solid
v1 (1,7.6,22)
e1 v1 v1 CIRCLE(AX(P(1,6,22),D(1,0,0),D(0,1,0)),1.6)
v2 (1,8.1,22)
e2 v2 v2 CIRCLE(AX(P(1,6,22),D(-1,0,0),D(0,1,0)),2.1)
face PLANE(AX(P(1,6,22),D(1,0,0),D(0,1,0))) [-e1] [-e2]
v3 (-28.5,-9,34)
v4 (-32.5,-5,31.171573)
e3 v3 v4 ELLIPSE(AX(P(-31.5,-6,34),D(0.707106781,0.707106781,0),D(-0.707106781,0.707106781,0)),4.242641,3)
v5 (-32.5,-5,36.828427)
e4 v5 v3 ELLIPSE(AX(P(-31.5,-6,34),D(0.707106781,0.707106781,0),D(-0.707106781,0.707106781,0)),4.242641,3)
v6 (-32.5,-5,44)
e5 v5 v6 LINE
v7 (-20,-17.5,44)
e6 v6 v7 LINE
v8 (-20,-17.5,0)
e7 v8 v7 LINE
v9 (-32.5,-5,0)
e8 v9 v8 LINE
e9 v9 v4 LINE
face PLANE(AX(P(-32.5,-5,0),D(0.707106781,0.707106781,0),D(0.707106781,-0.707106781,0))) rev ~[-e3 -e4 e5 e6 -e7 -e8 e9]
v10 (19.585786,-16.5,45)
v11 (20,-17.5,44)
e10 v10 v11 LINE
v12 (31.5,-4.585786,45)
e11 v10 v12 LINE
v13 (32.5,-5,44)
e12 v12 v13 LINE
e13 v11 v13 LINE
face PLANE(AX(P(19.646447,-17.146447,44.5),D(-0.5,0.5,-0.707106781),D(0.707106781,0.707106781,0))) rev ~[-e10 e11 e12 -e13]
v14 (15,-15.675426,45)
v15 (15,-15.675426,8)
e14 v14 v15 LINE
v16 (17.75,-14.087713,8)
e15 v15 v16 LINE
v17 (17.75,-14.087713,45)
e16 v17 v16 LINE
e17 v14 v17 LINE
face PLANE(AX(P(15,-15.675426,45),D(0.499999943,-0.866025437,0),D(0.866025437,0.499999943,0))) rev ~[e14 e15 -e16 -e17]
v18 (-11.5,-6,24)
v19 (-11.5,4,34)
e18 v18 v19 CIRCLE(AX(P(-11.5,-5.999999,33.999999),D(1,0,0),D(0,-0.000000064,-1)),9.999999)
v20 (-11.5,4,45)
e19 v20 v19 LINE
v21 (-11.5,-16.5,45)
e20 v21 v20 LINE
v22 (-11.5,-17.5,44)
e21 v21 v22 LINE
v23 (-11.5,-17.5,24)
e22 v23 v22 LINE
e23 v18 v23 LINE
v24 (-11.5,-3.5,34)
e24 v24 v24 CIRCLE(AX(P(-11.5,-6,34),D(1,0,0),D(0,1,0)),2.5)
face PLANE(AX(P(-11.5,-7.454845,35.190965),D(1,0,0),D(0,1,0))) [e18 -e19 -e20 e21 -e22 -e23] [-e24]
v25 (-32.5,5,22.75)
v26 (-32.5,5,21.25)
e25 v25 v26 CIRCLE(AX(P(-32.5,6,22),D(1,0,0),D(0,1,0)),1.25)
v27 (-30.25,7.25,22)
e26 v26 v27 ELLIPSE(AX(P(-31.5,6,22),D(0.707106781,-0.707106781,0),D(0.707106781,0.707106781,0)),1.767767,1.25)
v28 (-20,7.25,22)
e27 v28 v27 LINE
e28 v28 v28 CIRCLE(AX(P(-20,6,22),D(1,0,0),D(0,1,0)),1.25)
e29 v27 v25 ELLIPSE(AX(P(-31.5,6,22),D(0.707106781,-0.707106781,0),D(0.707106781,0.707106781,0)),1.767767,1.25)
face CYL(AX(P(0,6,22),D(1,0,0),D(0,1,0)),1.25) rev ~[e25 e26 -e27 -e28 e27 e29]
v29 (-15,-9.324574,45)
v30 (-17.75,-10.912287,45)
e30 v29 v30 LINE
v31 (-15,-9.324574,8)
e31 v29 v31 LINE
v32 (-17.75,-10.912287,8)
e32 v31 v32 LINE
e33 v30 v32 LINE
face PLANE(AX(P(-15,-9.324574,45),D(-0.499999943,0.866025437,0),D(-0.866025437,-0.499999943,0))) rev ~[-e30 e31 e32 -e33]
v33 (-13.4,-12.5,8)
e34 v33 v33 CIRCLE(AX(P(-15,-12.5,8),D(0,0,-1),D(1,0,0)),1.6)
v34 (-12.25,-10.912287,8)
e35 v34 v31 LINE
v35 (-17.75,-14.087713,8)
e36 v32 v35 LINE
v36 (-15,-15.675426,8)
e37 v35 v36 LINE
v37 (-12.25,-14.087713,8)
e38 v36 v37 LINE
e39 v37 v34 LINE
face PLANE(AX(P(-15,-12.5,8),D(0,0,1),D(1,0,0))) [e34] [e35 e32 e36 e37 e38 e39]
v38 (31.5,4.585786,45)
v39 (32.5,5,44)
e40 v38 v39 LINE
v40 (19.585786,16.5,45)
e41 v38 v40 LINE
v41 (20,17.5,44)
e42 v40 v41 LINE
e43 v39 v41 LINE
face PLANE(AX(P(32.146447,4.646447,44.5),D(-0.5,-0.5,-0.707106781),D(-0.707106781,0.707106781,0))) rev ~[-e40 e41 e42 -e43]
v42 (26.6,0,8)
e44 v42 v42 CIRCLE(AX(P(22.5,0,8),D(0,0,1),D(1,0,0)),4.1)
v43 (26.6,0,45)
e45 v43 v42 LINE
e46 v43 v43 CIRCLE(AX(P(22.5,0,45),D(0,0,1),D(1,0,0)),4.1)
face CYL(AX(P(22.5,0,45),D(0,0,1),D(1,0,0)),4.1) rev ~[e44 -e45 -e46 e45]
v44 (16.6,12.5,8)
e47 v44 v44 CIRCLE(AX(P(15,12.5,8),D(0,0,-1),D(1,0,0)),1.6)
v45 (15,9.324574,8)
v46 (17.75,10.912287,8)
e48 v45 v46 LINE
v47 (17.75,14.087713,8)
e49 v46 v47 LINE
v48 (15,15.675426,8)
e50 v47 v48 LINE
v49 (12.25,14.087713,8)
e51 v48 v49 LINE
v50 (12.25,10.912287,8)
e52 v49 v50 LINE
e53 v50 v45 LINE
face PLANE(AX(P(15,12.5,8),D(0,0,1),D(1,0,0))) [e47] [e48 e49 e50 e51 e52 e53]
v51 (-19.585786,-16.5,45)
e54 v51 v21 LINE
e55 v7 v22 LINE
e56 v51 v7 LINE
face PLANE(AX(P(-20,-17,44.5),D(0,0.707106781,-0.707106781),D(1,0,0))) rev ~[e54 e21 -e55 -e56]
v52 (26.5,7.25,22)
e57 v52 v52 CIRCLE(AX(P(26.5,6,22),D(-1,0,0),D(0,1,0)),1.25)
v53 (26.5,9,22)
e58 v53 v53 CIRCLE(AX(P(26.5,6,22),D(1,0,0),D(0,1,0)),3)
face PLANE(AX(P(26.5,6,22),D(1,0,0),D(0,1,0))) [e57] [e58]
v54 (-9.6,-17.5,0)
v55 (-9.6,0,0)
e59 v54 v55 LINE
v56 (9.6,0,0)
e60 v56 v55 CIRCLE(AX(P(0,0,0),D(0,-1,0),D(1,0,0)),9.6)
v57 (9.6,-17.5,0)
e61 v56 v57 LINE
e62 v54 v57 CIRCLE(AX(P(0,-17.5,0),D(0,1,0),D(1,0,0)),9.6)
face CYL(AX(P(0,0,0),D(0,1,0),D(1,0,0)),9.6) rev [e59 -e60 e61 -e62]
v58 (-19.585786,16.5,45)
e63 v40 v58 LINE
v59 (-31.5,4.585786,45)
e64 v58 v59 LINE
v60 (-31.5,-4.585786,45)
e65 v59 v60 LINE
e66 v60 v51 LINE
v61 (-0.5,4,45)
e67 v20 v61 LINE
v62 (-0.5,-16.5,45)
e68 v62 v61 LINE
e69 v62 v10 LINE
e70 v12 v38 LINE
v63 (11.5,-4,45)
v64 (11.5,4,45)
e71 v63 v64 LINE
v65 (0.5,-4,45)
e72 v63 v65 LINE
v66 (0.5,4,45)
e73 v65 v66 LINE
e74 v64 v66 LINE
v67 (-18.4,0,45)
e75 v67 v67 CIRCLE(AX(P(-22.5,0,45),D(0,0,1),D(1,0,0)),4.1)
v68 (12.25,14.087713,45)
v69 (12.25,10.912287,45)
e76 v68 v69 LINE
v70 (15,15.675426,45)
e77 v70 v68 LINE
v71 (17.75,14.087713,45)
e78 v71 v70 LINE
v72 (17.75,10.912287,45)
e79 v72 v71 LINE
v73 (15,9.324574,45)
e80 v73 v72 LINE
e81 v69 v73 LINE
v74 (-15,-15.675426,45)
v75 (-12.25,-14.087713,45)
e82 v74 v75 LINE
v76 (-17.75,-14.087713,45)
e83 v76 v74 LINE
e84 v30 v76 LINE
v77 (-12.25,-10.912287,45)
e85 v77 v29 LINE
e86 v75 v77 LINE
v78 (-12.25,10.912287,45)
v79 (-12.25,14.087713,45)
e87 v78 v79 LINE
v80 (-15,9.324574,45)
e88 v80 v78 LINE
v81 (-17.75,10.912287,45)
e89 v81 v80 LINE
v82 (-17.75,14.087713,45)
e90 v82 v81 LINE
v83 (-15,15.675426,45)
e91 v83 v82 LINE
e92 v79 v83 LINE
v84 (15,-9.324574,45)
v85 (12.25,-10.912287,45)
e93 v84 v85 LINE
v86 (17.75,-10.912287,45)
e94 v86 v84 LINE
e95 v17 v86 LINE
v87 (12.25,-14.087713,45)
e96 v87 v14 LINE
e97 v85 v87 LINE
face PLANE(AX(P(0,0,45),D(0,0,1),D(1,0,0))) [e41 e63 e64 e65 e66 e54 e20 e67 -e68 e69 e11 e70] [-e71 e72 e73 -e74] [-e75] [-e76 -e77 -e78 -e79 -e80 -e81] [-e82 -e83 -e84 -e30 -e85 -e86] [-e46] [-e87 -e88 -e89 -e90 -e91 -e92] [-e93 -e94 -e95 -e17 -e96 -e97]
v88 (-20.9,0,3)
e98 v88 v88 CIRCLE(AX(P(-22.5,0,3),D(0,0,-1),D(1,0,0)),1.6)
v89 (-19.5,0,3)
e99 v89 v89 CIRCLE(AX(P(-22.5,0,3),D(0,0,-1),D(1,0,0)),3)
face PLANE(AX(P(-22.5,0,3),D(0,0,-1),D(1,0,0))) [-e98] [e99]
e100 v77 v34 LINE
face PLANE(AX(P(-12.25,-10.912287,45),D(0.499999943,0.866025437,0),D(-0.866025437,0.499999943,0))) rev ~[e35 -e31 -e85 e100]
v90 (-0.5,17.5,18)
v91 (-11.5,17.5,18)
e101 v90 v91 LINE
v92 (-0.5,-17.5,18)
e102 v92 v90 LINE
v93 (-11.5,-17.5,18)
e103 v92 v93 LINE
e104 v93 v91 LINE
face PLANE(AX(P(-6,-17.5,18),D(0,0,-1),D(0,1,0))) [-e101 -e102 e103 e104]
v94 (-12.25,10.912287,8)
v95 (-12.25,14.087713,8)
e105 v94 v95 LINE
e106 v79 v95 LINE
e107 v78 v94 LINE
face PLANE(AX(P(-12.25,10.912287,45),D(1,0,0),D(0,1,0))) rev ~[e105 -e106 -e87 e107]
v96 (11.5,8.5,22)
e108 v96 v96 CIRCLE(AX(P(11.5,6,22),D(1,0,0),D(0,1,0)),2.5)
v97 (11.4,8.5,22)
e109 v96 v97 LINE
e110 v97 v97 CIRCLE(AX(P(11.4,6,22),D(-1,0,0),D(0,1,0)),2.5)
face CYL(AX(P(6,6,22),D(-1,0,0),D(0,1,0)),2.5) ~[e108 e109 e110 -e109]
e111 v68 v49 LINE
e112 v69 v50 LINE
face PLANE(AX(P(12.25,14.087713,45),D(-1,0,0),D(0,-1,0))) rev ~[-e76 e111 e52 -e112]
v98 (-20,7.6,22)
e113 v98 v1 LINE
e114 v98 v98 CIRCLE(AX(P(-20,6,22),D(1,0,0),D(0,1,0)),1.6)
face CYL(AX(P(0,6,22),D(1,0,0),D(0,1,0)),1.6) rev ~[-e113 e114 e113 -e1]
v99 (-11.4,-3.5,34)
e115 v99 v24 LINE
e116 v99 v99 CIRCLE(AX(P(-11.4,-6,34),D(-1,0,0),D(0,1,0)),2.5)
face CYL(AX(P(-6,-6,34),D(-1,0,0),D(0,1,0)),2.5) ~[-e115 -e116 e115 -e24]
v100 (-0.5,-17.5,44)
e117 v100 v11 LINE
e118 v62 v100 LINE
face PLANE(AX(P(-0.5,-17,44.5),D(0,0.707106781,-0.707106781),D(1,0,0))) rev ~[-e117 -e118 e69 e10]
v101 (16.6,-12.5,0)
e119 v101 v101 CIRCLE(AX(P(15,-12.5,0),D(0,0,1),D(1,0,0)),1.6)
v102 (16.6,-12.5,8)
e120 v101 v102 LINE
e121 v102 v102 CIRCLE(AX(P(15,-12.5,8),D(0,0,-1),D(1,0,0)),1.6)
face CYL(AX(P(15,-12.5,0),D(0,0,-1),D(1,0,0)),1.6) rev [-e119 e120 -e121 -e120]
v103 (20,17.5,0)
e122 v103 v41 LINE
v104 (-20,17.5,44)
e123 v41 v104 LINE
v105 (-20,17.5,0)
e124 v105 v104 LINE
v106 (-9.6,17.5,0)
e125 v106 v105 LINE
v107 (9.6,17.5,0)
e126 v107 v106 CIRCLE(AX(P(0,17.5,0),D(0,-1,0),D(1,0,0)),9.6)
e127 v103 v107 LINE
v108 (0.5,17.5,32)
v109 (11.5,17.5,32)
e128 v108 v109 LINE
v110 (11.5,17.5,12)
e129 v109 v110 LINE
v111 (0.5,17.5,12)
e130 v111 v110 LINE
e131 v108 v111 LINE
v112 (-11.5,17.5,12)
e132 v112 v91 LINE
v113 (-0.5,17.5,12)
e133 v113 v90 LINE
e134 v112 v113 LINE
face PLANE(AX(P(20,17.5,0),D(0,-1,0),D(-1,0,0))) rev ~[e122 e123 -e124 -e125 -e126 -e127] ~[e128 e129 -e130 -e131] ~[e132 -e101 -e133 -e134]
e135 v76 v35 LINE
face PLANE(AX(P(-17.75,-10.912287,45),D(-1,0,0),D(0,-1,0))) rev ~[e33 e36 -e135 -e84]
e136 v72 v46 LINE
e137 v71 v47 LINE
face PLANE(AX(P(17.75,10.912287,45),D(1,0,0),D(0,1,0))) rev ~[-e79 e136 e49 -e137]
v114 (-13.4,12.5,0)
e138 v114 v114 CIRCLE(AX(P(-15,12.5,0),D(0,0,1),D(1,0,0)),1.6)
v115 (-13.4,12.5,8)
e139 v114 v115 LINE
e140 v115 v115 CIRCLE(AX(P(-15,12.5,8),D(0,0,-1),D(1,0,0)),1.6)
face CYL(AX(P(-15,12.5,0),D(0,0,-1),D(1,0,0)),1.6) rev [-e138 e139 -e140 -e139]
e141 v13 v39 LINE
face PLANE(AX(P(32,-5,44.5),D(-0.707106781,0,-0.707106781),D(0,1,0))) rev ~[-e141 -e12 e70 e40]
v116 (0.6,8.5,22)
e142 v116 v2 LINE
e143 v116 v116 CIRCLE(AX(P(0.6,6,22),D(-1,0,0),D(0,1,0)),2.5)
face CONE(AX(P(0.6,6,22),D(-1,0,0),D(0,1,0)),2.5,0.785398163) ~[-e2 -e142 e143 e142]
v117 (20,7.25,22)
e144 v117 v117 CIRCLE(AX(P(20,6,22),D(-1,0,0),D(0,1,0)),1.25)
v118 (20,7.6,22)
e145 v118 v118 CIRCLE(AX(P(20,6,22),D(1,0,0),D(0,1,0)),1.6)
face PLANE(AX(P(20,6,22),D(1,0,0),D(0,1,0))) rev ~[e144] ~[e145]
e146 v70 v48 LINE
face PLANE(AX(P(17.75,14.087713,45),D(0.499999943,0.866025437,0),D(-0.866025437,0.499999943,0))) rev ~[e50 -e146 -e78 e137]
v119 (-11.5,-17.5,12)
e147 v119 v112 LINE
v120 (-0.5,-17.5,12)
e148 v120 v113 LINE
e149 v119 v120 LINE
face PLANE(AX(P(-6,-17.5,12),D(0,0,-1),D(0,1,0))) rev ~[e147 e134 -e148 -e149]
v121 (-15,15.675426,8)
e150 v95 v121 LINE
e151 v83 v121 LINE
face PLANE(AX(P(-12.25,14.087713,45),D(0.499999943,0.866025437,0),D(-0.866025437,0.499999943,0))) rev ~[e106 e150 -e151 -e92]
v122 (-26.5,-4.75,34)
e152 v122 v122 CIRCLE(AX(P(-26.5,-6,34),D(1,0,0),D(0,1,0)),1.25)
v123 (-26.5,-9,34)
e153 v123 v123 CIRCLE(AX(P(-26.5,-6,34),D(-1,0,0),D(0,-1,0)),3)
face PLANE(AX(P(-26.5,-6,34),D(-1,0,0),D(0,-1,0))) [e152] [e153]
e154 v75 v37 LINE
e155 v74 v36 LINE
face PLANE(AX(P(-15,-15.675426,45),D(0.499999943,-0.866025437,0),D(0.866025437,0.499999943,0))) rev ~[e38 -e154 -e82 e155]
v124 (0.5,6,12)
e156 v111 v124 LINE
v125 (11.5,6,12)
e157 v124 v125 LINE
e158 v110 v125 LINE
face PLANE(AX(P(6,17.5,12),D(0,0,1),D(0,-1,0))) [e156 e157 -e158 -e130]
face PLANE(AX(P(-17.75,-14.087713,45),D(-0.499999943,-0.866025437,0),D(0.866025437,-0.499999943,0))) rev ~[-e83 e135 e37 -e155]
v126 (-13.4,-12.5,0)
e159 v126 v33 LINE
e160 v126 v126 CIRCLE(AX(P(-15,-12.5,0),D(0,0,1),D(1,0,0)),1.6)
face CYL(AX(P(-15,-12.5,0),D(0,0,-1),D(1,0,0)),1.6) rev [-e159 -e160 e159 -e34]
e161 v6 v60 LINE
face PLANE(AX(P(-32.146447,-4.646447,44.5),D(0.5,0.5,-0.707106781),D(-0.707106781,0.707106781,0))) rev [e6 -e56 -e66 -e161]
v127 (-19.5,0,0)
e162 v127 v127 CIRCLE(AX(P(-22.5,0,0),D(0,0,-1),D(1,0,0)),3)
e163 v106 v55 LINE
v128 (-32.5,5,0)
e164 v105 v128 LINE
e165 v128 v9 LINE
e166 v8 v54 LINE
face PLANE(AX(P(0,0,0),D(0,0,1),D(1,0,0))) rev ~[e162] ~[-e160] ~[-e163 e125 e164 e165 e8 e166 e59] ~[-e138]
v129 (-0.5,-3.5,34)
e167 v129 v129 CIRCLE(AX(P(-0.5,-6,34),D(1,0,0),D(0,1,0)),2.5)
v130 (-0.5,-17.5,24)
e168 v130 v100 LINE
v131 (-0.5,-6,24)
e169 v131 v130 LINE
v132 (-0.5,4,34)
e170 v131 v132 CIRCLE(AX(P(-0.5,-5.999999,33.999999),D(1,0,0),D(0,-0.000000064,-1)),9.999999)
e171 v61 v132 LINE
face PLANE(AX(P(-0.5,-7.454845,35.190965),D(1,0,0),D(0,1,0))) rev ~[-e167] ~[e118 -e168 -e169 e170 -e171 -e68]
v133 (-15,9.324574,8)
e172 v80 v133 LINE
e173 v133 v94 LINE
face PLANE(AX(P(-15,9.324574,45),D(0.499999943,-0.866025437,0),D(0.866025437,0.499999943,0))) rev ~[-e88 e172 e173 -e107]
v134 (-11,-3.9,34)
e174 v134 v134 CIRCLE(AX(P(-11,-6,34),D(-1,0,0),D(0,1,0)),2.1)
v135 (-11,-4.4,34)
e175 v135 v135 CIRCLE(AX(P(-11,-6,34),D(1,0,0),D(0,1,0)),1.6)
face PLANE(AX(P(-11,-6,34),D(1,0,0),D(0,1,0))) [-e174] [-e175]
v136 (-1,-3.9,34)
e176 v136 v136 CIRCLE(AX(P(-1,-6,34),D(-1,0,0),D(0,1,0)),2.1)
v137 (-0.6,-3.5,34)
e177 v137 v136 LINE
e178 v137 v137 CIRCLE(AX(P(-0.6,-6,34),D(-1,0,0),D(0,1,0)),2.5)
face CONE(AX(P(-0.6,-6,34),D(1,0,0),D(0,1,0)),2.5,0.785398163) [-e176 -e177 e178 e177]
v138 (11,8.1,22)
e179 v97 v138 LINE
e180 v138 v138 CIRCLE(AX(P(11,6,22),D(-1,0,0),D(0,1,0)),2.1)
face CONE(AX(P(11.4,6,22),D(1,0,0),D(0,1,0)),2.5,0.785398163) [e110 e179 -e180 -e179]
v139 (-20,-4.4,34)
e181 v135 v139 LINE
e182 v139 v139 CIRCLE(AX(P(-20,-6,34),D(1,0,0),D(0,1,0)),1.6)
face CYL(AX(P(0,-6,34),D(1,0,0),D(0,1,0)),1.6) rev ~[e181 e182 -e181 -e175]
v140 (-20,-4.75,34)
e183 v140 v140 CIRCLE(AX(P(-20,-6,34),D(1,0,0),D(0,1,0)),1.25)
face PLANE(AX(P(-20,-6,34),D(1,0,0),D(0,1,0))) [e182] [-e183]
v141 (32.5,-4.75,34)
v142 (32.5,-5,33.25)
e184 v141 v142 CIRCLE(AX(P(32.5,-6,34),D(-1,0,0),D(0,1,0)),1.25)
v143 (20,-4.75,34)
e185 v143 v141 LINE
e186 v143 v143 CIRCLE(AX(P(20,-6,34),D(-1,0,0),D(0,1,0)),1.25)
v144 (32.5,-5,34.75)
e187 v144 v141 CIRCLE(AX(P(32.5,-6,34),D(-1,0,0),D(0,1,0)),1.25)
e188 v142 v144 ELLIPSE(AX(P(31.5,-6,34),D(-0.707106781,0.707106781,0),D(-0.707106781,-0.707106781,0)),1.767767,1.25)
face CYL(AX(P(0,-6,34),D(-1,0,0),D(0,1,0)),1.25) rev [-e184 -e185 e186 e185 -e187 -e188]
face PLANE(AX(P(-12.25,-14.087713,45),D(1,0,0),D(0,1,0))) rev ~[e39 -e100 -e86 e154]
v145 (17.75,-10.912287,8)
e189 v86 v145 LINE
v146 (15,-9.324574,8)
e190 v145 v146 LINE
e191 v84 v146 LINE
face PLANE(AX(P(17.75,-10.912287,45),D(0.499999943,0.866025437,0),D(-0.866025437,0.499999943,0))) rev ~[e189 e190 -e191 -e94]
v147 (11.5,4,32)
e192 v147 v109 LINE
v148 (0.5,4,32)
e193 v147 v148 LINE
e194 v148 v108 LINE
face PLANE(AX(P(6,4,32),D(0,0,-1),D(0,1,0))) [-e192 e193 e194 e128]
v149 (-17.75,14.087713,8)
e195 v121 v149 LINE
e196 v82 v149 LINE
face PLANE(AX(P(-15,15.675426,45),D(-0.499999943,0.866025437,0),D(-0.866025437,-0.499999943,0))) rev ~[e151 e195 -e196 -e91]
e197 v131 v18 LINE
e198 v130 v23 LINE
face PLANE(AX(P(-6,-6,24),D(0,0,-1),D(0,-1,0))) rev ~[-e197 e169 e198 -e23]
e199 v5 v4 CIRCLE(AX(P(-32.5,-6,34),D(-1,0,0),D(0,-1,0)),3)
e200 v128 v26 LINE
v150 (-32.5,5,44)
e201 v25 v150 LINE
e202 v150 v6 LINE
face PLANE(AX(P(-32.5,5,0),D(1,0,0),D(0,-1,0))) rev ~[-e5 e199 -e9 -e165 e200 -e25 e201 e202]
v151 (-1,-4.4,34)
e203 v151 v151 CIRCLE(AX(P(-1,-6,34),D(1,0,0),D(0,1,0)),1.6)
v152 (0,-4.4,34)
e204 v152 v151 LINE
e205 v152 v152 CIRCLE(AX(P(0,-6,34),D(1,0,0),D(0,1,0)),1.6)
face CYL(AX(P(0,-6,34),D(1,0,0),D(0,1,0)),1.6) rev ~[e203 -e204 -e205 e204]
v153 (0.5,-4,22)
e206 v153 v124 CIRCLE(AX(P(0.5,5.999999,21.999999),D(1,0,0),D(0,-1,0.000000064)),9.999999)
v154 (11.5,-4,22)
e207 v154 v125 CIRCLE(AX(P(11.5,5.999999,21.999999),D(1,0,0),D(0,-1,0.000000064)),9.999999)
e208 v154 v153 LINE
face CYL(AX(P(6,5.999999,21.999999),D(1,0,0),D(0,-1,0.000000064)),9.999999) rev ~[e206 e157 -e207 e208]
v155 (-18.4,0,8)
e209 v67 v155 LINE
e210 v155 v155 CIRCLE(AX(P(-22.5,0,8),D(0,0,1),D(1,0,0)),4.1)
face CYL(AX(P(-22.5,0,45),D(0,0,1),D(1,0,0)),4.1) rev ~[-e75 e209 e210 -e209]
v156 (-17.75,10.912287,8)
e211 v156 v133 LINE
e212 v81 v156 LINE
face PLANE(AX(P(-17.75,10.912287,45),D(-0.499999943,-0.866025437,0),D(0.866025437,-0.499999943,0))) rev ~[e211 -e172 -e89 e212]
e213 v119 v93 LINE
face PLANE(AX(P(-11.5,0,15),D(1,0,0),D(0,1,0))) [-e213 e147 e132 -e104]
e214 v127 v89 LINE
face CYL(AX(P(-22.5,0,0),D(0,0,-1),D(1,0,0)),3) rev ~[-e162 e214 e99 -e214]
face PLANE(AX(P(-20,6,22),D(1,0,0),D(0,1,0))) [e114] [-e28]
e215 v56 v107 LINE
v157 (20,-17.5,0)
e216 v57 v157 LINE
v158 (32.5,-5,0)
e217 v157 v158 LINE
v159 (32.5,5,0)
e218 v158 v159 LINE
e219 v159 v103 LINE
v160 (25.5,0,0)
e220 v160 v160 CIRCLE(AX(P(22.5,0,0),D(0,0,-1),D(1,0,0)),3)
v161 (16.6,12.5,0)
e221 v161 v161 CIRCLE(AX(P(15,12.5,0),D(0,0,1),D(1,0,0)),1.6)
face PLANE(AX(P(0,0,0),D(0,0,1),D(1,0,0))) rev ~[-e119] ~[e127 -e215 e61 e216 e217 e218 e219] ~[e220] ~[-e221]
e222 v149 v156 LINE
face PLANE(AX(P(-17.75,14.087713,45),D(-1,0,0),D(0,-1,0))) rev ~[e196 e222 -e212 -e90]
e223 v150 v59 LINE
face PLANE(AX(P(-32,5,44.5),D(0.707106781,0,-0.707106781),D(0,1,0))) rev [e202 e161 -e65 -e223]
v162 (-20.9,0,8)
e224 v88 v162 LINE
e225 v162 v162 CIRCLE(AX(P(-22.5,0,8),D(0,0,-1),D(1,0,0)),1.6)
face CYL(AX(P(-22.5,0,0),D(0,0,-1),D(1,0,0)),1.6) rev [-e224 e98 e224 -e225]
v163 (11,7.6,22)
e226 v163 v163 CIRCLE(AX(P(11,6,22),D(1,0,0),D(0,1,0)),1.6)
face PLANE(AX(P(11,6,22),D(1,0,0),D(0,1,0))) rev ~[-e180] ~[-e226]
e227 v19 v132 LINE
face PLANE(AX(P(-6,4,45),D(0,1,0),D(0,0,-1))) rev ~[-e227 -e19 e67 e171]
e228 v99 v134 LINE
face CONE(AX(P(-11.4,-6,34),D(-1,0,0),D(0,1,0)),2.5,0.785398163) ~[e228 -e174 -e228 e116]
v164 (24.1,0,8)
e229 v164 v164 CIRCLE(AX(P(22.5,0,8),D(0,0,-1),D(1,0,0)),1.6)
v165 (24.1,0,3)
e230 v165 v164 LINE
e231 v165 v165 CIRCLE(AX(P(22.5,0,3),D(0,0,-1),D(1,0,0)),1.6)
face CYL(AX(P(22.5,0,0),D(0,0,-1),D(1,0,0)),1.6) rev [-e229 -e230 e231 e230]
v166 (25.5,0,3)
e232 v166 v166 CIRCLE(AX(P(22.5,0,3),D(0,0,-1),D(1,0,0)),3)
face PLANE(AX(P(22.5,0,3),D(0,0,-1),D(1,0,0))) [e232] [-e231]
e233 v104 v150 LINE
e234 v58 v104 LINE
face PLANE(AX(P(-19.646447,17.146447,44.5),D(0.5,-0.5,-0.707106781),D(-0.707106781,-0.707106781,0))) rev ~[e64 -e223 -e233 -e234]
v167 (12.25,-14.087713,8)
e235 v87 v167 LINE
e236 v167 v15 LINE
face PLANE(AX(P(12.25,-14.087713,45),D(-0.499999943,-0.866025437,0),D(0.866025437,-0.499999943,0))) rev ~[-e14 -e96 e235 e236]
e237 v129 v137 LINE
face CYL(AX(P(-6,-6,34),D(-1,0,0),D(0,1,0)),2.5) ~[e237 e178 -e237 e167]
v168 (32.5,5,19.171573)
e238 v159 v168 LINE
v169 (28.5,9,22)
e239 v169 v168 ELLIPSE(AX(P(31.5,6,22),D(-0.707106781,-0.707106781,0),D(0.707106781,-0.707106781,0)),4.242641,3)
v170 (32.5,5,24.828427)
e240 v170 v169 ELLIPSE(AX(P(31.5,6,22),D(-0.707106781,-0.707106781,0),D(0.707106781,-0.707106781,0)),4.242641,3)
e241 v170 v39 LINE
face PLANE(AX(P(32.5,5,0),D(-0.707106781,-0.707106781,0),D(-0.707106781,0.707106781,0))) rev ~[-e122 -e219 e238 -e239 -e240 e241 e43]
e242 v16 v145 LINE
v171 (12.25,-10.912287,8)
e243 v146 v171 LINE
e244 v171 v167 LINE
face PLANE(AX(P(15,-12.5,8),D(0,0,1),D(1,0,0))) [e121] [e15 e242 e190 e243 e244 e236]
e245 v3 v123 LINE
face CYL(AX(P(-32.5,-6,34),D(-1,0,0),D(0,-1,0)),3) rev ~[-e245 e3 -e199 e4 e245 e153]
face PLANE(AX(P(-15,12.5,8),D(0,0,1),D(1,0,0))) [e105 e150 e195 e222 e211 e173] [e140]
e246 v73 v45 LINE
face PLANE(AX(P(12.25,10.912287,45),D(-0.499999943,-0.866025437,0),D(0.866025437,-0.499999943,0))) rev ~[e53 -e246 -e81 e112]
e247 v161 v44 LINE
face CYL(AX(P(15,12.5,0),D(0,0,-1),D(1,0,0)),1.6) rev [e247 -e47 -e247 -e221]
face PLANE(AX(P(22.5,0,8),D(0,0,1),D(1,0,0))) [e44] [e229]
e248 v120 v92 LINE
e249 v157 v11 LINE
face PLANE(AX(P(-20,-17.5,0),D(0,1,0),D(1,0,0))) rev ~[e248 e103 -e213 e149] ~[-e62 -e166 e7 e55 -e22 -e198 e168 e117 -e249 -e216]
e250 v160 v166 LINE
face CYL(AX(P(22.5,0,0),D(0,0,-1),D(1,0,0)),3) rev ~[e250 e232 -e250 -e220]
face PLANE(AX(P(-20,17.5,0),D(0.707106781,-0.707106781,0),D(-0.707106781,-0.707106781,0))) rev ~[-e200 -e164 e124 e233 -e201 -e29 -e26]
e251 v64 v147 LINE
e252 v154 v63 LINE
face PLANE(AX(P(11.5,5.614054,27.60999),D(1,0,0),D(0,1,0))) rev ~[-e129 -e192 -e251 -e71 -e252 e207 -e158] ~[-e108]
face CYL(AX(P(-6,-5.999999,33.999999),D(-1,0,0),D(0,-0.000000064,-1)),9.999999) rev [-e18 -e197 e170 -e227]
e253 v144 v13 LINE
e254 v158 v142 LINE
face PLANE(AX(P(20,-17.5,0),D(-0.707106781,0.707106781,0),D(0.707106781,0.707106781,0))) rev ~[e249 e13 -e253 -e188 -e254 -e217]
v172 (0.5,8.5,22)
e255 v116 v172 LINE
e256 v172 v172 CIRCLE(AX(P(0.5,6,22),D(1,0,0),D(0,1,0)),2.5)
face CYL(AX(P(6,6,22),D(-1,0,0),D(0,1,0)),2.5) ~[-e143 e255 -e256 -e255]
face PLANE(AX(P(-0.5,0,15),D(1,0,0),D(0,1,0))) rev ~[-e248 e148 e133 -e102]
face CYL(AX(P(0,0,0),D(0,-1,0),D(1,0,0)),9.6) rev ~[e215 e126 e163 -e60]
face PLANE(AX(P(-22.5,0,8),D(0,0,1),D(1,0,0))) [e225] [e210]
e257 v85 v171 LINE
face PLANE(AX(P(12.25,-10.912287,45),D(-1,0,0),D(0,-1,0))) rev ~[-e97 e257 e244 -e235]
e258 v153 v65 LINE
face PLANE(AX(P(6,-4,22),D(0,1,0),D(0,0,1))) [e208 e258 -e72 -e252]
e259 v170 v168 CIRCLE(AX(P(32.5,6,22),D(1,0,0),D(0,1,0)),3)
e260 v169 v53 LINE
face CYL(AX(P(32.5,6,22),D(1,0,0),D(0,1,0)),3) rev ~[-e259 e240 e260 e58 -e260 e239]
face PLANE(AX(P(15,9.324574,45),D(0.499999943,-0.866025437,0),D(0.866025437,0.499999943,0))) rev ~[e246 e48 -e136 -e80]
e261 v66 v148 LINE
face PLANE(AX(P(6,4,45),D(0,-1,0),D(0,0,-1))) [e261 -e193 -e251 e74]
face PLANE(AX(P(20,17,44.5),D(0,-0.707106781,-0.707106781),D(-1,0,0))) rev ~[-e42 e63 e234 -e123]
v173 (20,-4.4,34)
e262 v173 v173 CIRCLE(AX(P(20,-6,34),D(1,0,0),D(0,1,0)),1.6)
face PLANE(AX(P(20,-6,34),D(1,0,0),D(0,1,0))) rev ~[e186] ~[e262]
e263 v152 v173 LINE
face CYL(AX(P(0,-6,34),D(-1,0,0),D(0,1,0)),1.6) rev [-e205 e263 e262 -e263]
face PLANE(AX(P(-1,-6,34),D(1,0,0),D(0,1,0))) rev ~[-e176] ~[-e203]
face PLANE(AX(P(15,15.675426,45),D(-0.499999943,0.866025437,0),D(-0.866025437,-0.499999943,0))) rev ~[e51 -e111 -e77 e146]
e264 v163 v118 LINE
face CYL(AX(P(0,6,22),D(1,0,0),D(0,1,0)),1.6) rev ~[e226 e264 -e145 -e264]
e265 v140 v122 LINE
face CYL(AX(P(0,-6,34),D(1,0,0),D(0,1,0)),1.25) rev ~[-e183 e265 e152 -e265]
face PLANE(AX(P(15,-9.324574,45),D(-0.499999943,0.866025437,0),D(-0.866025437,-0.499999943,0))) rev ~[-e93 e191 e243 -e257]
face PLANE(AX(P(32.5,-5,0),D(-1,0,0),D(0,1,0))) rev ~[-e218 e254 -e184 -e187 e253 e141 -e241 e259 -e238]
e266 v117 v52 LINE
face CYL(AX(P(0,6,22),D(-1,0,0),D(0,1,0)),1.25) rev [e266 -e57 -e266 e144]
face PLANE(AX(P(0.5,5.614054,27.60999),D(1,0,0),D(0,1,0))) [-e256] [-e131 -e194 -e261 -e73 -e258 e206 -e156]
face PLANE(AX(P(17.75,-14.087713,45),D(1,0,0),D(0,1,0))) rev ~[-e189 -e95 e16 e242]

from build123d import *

# Parameters (mm, degrees)
SKETCH_R             = 1.6
PAD_DEPTH            = 45
SKETCH001_R          = 4.1
POCKET_DEPTH         = 37
SKETCH002_R          = 9.6
POCKET001_DEPTH      = 17.501
POCKET001_DEPTH_BACK = 17.501
SKETCH003_R          = 2.5
SKETCH003_W          = 35
SKETCH003_H          = 6
POCKET002_DEPTH      = 5.5
SKETCH004_R          = 4
POCKET003_DEPTH      = 5
SKETCH005_R          = 2.5
POCKET004_DEPTH      = 5.5
SKETCH006_R          = 4
POCKET005_DEPTH      = 5
SKETCH007_R          = 1.25
POCKET006_DEPTH      = 32.501
POCKET006_DEPTH_BACK = 32.501
SKETCH008_R          = 1.6
POCKET007_DEPTH      = 20
SKETCH009_R          = 3
POCKET008_DEPTH      = 6
SKETCH010_R          = 3
POCKET009_DEPTH      = 6
SKETCH011_R          = 3
POCKET010_DEPTH      = 3
CHAMFER_SIZE         = 1
CHAMFER001_SIZE      = 0.4


with BuildPart() as part:
    # Sketch → Pad (new body)
    with BuildSketch(Plane.XY):
        Polygon((-32.5, 5), (-32.5, -5), (-20, -17.5), (20, -17.5), (32.5, -5), (32.5, 5), (20, 17.5), (-20, 17.5), align=None)
        with Locations((-15, 12.5)):
            Circle(SKETCH_R, mode=Mode.SUBTRACT)
        with Locations((-15, -12.5)):
            Circle(SKETCH_R, mode=Mode.SUBTRACT)
        with Locations((15, -12.5)):
            Circle(SKETCH_R, mode=Mode.SUBTRACT)
        with Locations((15, 12.5)):
            Circle(SKETCH_R, mode=Mode.SUBTRACT)
        with Locations((22.5, 0)):
            Circle(SKETCH_R, mode=Mode.SUBTRACT)
        with Locations((-22.5, 0)):
            Circle(SKETCH_R, mode=Mode.SUBTRACT)
    extrude(amount=PAD_DEPTH)

    # Sketch001 (on Face16 of Pad) → Pocket (cut)
    with BuildSketch(Plane.XY.offset(45)):
        with Locations((-22.5, 0)):
            Circle(SKETCH001_R)
        with Locations((22.5, 0)):
            Circle(SKETCH001_R)
        Polygon((-12.25, 10.912287), (-12.25, 14.087713), (-15, 15.675426), (-17.75, 14.087713), (-17.75, 10.912287), (-15, 9.324574), align=None)
        Polygon((17.75, 10.912287), (17.75, 14.087713), (15, 15.675426), (12.25, 14.087713), (12.25, 10.912287), (15, 9.324574), align=None)
        Polygon((-12.25, -14.087713), (-12.25, -10.912287), (-15, -9.324574), (-17.75, -10.912287), (-17.75, -14.087713), (-15, -15.675426), align=None)
        Polygon((17.75, -14.087713), (17.75, -10.912287), (15, -9.324574), (12.25, -10.912287), (12.25, -14.087713), (15, -15.675426), align=None)
    extrude(amount=-POCKET_DEPTH, mode=Mode.SUBTRACT)

    # Sketch002 → Pocket001 (cut, two sides)
    with BuildSketch(Plane.XZ) as pocket001_sk:
        Circle(SKETCH002_R)
    extrude(amount=-POCKET001_DEPTH, mode=Mode.SUBTRACT)
    extrude(pocket001_sk.sketch, amount=POCKET001_DEPTH_BACK, mode=Mode.SUBTRACT)

    # Sketch003 (on DatumPlane) → Pocket002 (cut, symmetric)
    with BuildSketch(Plane.YZ.offset(-6)):
        with BuildLine():
            ThreePointArc((-6, 24), (1.071068, 26.928932), (4, 34))
            Line((4, 45), (4, 34))
            Line((-17.5, 45), (4, 45))
            Line((-17.5, 24), (-17.5, 45))
            Line((-6, 24), (-17.5, 24))
        make_face()
        with Locations((-6, 34)):
            Circle(SKETCH003_R, mode=Mode.SUBTRACT)
        with Locations((0, 15)):
            Rectangle(SKETCH003_W, SKETCH003_H)
    extrude(amount=POCKET002_DEPTH, both=True, mode=Mode.SUBTRACT)

    # Sketch004 (on DatumPlane) → Pocket003 (cut, symmetric)
    with BuildSketch(Plane.YZ.offset(-6)):
        with Locations((-6, 34)):
            Circle(SKETCH004_R)
    extrude(amount=POCKET003_DEPTH, both=True, mode=Mode.SUBTRACT)

    # Sketch005 (on DatumPlane) → Pocket004 (cut, symmetric)
    with BuildSketch(Plane.YZ.offset(6)):
        with BuildLine():
            ThreePointArc((-4, 22), (-1.071068, 14.928932), (6, 12))
            Line((17.5, 12), (6, 12))
            Line((17.5, 32), (17.5, 12))
            Line((4, 32), (17.5, 32))
            Line((4, 45), (4, 32))
            Line((-4, 45), (4, 45))
            Line((-4, 22), (-4, 45))
        make_face()
        with Locations((6, 22)):
            Circle(SKETCH005_R, mode=Mode.SUBTRACT)
    extrude(amount=POCKET004_DEPTH, both=True, mode=Mode.SUBTRACT)

    # Sketch006 (on DatumPlane) → Pocket005 (cut, symmetric)
    with BuildSketch(Plane.YZ.offset(6)):
        with Locations((6, 22)):
            Circle(SKETCH006_R)
    extrude(amount=POCKET005_DEPTH, both=True, mode=Mode.SUBTRACT)

    # Sketch007 → Pocket006 (cut, two sides)
    with BuildSketch(Plane.YZ) as pocket006_sk:
        with Locations((-6, 34)):
            Circle(SKETCH007_R)
        with Locations((6, 22)):
            Circle(SKETCH007_R)
    extrude(amount=-POCKET006_DEPTH, mode=Mode.SUBTRACT)
    extrude(pocket006_sk.sketch, amount=POCKET006_DEPTH_BACK, mode=Mode.SUBTRACT)

    # Sketch008 → Pocket007 (cut, symmetric)
    with BuildSketch(Plane.YZ):
        with Locations((-6, 34)):
            Circle(SKETCH008_R)
        with Locations((6, 22)):
            Circle(SKETCH008_R)
    extrude(amount=POCKET007_DEPTH, both=True, mode=Mode.SUBTRACT)

    # Sketch009 (on Face16 of Pocket007) → Pocket008 (cut)
    with BuildSketch(Plane.YZ.offset(32.5)):
        with Locations((6, 22)):
            Circle(SKETCH009_R)
    extrude(amount=-POCKET008_DEPTH, mode=Mode.SUBTRACT)

    # Sketch010 (on Face1 of Pocket008) → Pocket009 (cut)
    with BuildSketch(Plane(origin=(-32.5, 0, 0), x_dir=(0, -1, 0), z_dir=(-1, 0, 0))):
        with Locations((6, 34)):
            Circle(SKETCH010_R)
    extrude(amount=-POCKET009_DEPTH, mode=Mode.SUBTRACT)

    # Sketch011 (on Face2 of Pocket009) → Pocket010 (cut)
    with BuildSketch(Plane(origin=(0, 0, 0), x_dir=(1, 0, 0), z_dir=(0, 0, -1))):
        with Locations((-22.5, 0)):
            Circle(SKETCH011_R)
        with Locations((22.5, 0)):
            Circle(SKETCH011_R)
    extrude(amount=-POCKET010_DEPTH, mode=Mode.SUBTRACT)

    # Chamfer
    chamfer_edges = [part.edges().sort_by_distance(p)[0] for p in [
        (-15.75, -17.5, 45),
        (-26.25, -11.25, 45),
        (-32.5, 0, 45),
        (-26.25, 11.25, 45),
        (0, 17.5, 45),
        (26.25, 11.25, 45),
        (32.5, 0, 45),
        (26.25, -11.25, 45),
        (9.75, -17.5, 45),
    ]]
    chamfer(chamfer_edges, length=CHAMFER_SIZE)

    # Chamfer001
    chamfer001_edges = [part.edges().sort_by_distance(p)[0] for p in [
        (-11, -8.5, 34),
        (-1, -8.5, 34),
        (1, 3.5, 22),
        (11, 3.5, 22),
    ]]
    chamfer(chamfer001_edges, length=CHAMFER001_SIZE)


solid = part.part
